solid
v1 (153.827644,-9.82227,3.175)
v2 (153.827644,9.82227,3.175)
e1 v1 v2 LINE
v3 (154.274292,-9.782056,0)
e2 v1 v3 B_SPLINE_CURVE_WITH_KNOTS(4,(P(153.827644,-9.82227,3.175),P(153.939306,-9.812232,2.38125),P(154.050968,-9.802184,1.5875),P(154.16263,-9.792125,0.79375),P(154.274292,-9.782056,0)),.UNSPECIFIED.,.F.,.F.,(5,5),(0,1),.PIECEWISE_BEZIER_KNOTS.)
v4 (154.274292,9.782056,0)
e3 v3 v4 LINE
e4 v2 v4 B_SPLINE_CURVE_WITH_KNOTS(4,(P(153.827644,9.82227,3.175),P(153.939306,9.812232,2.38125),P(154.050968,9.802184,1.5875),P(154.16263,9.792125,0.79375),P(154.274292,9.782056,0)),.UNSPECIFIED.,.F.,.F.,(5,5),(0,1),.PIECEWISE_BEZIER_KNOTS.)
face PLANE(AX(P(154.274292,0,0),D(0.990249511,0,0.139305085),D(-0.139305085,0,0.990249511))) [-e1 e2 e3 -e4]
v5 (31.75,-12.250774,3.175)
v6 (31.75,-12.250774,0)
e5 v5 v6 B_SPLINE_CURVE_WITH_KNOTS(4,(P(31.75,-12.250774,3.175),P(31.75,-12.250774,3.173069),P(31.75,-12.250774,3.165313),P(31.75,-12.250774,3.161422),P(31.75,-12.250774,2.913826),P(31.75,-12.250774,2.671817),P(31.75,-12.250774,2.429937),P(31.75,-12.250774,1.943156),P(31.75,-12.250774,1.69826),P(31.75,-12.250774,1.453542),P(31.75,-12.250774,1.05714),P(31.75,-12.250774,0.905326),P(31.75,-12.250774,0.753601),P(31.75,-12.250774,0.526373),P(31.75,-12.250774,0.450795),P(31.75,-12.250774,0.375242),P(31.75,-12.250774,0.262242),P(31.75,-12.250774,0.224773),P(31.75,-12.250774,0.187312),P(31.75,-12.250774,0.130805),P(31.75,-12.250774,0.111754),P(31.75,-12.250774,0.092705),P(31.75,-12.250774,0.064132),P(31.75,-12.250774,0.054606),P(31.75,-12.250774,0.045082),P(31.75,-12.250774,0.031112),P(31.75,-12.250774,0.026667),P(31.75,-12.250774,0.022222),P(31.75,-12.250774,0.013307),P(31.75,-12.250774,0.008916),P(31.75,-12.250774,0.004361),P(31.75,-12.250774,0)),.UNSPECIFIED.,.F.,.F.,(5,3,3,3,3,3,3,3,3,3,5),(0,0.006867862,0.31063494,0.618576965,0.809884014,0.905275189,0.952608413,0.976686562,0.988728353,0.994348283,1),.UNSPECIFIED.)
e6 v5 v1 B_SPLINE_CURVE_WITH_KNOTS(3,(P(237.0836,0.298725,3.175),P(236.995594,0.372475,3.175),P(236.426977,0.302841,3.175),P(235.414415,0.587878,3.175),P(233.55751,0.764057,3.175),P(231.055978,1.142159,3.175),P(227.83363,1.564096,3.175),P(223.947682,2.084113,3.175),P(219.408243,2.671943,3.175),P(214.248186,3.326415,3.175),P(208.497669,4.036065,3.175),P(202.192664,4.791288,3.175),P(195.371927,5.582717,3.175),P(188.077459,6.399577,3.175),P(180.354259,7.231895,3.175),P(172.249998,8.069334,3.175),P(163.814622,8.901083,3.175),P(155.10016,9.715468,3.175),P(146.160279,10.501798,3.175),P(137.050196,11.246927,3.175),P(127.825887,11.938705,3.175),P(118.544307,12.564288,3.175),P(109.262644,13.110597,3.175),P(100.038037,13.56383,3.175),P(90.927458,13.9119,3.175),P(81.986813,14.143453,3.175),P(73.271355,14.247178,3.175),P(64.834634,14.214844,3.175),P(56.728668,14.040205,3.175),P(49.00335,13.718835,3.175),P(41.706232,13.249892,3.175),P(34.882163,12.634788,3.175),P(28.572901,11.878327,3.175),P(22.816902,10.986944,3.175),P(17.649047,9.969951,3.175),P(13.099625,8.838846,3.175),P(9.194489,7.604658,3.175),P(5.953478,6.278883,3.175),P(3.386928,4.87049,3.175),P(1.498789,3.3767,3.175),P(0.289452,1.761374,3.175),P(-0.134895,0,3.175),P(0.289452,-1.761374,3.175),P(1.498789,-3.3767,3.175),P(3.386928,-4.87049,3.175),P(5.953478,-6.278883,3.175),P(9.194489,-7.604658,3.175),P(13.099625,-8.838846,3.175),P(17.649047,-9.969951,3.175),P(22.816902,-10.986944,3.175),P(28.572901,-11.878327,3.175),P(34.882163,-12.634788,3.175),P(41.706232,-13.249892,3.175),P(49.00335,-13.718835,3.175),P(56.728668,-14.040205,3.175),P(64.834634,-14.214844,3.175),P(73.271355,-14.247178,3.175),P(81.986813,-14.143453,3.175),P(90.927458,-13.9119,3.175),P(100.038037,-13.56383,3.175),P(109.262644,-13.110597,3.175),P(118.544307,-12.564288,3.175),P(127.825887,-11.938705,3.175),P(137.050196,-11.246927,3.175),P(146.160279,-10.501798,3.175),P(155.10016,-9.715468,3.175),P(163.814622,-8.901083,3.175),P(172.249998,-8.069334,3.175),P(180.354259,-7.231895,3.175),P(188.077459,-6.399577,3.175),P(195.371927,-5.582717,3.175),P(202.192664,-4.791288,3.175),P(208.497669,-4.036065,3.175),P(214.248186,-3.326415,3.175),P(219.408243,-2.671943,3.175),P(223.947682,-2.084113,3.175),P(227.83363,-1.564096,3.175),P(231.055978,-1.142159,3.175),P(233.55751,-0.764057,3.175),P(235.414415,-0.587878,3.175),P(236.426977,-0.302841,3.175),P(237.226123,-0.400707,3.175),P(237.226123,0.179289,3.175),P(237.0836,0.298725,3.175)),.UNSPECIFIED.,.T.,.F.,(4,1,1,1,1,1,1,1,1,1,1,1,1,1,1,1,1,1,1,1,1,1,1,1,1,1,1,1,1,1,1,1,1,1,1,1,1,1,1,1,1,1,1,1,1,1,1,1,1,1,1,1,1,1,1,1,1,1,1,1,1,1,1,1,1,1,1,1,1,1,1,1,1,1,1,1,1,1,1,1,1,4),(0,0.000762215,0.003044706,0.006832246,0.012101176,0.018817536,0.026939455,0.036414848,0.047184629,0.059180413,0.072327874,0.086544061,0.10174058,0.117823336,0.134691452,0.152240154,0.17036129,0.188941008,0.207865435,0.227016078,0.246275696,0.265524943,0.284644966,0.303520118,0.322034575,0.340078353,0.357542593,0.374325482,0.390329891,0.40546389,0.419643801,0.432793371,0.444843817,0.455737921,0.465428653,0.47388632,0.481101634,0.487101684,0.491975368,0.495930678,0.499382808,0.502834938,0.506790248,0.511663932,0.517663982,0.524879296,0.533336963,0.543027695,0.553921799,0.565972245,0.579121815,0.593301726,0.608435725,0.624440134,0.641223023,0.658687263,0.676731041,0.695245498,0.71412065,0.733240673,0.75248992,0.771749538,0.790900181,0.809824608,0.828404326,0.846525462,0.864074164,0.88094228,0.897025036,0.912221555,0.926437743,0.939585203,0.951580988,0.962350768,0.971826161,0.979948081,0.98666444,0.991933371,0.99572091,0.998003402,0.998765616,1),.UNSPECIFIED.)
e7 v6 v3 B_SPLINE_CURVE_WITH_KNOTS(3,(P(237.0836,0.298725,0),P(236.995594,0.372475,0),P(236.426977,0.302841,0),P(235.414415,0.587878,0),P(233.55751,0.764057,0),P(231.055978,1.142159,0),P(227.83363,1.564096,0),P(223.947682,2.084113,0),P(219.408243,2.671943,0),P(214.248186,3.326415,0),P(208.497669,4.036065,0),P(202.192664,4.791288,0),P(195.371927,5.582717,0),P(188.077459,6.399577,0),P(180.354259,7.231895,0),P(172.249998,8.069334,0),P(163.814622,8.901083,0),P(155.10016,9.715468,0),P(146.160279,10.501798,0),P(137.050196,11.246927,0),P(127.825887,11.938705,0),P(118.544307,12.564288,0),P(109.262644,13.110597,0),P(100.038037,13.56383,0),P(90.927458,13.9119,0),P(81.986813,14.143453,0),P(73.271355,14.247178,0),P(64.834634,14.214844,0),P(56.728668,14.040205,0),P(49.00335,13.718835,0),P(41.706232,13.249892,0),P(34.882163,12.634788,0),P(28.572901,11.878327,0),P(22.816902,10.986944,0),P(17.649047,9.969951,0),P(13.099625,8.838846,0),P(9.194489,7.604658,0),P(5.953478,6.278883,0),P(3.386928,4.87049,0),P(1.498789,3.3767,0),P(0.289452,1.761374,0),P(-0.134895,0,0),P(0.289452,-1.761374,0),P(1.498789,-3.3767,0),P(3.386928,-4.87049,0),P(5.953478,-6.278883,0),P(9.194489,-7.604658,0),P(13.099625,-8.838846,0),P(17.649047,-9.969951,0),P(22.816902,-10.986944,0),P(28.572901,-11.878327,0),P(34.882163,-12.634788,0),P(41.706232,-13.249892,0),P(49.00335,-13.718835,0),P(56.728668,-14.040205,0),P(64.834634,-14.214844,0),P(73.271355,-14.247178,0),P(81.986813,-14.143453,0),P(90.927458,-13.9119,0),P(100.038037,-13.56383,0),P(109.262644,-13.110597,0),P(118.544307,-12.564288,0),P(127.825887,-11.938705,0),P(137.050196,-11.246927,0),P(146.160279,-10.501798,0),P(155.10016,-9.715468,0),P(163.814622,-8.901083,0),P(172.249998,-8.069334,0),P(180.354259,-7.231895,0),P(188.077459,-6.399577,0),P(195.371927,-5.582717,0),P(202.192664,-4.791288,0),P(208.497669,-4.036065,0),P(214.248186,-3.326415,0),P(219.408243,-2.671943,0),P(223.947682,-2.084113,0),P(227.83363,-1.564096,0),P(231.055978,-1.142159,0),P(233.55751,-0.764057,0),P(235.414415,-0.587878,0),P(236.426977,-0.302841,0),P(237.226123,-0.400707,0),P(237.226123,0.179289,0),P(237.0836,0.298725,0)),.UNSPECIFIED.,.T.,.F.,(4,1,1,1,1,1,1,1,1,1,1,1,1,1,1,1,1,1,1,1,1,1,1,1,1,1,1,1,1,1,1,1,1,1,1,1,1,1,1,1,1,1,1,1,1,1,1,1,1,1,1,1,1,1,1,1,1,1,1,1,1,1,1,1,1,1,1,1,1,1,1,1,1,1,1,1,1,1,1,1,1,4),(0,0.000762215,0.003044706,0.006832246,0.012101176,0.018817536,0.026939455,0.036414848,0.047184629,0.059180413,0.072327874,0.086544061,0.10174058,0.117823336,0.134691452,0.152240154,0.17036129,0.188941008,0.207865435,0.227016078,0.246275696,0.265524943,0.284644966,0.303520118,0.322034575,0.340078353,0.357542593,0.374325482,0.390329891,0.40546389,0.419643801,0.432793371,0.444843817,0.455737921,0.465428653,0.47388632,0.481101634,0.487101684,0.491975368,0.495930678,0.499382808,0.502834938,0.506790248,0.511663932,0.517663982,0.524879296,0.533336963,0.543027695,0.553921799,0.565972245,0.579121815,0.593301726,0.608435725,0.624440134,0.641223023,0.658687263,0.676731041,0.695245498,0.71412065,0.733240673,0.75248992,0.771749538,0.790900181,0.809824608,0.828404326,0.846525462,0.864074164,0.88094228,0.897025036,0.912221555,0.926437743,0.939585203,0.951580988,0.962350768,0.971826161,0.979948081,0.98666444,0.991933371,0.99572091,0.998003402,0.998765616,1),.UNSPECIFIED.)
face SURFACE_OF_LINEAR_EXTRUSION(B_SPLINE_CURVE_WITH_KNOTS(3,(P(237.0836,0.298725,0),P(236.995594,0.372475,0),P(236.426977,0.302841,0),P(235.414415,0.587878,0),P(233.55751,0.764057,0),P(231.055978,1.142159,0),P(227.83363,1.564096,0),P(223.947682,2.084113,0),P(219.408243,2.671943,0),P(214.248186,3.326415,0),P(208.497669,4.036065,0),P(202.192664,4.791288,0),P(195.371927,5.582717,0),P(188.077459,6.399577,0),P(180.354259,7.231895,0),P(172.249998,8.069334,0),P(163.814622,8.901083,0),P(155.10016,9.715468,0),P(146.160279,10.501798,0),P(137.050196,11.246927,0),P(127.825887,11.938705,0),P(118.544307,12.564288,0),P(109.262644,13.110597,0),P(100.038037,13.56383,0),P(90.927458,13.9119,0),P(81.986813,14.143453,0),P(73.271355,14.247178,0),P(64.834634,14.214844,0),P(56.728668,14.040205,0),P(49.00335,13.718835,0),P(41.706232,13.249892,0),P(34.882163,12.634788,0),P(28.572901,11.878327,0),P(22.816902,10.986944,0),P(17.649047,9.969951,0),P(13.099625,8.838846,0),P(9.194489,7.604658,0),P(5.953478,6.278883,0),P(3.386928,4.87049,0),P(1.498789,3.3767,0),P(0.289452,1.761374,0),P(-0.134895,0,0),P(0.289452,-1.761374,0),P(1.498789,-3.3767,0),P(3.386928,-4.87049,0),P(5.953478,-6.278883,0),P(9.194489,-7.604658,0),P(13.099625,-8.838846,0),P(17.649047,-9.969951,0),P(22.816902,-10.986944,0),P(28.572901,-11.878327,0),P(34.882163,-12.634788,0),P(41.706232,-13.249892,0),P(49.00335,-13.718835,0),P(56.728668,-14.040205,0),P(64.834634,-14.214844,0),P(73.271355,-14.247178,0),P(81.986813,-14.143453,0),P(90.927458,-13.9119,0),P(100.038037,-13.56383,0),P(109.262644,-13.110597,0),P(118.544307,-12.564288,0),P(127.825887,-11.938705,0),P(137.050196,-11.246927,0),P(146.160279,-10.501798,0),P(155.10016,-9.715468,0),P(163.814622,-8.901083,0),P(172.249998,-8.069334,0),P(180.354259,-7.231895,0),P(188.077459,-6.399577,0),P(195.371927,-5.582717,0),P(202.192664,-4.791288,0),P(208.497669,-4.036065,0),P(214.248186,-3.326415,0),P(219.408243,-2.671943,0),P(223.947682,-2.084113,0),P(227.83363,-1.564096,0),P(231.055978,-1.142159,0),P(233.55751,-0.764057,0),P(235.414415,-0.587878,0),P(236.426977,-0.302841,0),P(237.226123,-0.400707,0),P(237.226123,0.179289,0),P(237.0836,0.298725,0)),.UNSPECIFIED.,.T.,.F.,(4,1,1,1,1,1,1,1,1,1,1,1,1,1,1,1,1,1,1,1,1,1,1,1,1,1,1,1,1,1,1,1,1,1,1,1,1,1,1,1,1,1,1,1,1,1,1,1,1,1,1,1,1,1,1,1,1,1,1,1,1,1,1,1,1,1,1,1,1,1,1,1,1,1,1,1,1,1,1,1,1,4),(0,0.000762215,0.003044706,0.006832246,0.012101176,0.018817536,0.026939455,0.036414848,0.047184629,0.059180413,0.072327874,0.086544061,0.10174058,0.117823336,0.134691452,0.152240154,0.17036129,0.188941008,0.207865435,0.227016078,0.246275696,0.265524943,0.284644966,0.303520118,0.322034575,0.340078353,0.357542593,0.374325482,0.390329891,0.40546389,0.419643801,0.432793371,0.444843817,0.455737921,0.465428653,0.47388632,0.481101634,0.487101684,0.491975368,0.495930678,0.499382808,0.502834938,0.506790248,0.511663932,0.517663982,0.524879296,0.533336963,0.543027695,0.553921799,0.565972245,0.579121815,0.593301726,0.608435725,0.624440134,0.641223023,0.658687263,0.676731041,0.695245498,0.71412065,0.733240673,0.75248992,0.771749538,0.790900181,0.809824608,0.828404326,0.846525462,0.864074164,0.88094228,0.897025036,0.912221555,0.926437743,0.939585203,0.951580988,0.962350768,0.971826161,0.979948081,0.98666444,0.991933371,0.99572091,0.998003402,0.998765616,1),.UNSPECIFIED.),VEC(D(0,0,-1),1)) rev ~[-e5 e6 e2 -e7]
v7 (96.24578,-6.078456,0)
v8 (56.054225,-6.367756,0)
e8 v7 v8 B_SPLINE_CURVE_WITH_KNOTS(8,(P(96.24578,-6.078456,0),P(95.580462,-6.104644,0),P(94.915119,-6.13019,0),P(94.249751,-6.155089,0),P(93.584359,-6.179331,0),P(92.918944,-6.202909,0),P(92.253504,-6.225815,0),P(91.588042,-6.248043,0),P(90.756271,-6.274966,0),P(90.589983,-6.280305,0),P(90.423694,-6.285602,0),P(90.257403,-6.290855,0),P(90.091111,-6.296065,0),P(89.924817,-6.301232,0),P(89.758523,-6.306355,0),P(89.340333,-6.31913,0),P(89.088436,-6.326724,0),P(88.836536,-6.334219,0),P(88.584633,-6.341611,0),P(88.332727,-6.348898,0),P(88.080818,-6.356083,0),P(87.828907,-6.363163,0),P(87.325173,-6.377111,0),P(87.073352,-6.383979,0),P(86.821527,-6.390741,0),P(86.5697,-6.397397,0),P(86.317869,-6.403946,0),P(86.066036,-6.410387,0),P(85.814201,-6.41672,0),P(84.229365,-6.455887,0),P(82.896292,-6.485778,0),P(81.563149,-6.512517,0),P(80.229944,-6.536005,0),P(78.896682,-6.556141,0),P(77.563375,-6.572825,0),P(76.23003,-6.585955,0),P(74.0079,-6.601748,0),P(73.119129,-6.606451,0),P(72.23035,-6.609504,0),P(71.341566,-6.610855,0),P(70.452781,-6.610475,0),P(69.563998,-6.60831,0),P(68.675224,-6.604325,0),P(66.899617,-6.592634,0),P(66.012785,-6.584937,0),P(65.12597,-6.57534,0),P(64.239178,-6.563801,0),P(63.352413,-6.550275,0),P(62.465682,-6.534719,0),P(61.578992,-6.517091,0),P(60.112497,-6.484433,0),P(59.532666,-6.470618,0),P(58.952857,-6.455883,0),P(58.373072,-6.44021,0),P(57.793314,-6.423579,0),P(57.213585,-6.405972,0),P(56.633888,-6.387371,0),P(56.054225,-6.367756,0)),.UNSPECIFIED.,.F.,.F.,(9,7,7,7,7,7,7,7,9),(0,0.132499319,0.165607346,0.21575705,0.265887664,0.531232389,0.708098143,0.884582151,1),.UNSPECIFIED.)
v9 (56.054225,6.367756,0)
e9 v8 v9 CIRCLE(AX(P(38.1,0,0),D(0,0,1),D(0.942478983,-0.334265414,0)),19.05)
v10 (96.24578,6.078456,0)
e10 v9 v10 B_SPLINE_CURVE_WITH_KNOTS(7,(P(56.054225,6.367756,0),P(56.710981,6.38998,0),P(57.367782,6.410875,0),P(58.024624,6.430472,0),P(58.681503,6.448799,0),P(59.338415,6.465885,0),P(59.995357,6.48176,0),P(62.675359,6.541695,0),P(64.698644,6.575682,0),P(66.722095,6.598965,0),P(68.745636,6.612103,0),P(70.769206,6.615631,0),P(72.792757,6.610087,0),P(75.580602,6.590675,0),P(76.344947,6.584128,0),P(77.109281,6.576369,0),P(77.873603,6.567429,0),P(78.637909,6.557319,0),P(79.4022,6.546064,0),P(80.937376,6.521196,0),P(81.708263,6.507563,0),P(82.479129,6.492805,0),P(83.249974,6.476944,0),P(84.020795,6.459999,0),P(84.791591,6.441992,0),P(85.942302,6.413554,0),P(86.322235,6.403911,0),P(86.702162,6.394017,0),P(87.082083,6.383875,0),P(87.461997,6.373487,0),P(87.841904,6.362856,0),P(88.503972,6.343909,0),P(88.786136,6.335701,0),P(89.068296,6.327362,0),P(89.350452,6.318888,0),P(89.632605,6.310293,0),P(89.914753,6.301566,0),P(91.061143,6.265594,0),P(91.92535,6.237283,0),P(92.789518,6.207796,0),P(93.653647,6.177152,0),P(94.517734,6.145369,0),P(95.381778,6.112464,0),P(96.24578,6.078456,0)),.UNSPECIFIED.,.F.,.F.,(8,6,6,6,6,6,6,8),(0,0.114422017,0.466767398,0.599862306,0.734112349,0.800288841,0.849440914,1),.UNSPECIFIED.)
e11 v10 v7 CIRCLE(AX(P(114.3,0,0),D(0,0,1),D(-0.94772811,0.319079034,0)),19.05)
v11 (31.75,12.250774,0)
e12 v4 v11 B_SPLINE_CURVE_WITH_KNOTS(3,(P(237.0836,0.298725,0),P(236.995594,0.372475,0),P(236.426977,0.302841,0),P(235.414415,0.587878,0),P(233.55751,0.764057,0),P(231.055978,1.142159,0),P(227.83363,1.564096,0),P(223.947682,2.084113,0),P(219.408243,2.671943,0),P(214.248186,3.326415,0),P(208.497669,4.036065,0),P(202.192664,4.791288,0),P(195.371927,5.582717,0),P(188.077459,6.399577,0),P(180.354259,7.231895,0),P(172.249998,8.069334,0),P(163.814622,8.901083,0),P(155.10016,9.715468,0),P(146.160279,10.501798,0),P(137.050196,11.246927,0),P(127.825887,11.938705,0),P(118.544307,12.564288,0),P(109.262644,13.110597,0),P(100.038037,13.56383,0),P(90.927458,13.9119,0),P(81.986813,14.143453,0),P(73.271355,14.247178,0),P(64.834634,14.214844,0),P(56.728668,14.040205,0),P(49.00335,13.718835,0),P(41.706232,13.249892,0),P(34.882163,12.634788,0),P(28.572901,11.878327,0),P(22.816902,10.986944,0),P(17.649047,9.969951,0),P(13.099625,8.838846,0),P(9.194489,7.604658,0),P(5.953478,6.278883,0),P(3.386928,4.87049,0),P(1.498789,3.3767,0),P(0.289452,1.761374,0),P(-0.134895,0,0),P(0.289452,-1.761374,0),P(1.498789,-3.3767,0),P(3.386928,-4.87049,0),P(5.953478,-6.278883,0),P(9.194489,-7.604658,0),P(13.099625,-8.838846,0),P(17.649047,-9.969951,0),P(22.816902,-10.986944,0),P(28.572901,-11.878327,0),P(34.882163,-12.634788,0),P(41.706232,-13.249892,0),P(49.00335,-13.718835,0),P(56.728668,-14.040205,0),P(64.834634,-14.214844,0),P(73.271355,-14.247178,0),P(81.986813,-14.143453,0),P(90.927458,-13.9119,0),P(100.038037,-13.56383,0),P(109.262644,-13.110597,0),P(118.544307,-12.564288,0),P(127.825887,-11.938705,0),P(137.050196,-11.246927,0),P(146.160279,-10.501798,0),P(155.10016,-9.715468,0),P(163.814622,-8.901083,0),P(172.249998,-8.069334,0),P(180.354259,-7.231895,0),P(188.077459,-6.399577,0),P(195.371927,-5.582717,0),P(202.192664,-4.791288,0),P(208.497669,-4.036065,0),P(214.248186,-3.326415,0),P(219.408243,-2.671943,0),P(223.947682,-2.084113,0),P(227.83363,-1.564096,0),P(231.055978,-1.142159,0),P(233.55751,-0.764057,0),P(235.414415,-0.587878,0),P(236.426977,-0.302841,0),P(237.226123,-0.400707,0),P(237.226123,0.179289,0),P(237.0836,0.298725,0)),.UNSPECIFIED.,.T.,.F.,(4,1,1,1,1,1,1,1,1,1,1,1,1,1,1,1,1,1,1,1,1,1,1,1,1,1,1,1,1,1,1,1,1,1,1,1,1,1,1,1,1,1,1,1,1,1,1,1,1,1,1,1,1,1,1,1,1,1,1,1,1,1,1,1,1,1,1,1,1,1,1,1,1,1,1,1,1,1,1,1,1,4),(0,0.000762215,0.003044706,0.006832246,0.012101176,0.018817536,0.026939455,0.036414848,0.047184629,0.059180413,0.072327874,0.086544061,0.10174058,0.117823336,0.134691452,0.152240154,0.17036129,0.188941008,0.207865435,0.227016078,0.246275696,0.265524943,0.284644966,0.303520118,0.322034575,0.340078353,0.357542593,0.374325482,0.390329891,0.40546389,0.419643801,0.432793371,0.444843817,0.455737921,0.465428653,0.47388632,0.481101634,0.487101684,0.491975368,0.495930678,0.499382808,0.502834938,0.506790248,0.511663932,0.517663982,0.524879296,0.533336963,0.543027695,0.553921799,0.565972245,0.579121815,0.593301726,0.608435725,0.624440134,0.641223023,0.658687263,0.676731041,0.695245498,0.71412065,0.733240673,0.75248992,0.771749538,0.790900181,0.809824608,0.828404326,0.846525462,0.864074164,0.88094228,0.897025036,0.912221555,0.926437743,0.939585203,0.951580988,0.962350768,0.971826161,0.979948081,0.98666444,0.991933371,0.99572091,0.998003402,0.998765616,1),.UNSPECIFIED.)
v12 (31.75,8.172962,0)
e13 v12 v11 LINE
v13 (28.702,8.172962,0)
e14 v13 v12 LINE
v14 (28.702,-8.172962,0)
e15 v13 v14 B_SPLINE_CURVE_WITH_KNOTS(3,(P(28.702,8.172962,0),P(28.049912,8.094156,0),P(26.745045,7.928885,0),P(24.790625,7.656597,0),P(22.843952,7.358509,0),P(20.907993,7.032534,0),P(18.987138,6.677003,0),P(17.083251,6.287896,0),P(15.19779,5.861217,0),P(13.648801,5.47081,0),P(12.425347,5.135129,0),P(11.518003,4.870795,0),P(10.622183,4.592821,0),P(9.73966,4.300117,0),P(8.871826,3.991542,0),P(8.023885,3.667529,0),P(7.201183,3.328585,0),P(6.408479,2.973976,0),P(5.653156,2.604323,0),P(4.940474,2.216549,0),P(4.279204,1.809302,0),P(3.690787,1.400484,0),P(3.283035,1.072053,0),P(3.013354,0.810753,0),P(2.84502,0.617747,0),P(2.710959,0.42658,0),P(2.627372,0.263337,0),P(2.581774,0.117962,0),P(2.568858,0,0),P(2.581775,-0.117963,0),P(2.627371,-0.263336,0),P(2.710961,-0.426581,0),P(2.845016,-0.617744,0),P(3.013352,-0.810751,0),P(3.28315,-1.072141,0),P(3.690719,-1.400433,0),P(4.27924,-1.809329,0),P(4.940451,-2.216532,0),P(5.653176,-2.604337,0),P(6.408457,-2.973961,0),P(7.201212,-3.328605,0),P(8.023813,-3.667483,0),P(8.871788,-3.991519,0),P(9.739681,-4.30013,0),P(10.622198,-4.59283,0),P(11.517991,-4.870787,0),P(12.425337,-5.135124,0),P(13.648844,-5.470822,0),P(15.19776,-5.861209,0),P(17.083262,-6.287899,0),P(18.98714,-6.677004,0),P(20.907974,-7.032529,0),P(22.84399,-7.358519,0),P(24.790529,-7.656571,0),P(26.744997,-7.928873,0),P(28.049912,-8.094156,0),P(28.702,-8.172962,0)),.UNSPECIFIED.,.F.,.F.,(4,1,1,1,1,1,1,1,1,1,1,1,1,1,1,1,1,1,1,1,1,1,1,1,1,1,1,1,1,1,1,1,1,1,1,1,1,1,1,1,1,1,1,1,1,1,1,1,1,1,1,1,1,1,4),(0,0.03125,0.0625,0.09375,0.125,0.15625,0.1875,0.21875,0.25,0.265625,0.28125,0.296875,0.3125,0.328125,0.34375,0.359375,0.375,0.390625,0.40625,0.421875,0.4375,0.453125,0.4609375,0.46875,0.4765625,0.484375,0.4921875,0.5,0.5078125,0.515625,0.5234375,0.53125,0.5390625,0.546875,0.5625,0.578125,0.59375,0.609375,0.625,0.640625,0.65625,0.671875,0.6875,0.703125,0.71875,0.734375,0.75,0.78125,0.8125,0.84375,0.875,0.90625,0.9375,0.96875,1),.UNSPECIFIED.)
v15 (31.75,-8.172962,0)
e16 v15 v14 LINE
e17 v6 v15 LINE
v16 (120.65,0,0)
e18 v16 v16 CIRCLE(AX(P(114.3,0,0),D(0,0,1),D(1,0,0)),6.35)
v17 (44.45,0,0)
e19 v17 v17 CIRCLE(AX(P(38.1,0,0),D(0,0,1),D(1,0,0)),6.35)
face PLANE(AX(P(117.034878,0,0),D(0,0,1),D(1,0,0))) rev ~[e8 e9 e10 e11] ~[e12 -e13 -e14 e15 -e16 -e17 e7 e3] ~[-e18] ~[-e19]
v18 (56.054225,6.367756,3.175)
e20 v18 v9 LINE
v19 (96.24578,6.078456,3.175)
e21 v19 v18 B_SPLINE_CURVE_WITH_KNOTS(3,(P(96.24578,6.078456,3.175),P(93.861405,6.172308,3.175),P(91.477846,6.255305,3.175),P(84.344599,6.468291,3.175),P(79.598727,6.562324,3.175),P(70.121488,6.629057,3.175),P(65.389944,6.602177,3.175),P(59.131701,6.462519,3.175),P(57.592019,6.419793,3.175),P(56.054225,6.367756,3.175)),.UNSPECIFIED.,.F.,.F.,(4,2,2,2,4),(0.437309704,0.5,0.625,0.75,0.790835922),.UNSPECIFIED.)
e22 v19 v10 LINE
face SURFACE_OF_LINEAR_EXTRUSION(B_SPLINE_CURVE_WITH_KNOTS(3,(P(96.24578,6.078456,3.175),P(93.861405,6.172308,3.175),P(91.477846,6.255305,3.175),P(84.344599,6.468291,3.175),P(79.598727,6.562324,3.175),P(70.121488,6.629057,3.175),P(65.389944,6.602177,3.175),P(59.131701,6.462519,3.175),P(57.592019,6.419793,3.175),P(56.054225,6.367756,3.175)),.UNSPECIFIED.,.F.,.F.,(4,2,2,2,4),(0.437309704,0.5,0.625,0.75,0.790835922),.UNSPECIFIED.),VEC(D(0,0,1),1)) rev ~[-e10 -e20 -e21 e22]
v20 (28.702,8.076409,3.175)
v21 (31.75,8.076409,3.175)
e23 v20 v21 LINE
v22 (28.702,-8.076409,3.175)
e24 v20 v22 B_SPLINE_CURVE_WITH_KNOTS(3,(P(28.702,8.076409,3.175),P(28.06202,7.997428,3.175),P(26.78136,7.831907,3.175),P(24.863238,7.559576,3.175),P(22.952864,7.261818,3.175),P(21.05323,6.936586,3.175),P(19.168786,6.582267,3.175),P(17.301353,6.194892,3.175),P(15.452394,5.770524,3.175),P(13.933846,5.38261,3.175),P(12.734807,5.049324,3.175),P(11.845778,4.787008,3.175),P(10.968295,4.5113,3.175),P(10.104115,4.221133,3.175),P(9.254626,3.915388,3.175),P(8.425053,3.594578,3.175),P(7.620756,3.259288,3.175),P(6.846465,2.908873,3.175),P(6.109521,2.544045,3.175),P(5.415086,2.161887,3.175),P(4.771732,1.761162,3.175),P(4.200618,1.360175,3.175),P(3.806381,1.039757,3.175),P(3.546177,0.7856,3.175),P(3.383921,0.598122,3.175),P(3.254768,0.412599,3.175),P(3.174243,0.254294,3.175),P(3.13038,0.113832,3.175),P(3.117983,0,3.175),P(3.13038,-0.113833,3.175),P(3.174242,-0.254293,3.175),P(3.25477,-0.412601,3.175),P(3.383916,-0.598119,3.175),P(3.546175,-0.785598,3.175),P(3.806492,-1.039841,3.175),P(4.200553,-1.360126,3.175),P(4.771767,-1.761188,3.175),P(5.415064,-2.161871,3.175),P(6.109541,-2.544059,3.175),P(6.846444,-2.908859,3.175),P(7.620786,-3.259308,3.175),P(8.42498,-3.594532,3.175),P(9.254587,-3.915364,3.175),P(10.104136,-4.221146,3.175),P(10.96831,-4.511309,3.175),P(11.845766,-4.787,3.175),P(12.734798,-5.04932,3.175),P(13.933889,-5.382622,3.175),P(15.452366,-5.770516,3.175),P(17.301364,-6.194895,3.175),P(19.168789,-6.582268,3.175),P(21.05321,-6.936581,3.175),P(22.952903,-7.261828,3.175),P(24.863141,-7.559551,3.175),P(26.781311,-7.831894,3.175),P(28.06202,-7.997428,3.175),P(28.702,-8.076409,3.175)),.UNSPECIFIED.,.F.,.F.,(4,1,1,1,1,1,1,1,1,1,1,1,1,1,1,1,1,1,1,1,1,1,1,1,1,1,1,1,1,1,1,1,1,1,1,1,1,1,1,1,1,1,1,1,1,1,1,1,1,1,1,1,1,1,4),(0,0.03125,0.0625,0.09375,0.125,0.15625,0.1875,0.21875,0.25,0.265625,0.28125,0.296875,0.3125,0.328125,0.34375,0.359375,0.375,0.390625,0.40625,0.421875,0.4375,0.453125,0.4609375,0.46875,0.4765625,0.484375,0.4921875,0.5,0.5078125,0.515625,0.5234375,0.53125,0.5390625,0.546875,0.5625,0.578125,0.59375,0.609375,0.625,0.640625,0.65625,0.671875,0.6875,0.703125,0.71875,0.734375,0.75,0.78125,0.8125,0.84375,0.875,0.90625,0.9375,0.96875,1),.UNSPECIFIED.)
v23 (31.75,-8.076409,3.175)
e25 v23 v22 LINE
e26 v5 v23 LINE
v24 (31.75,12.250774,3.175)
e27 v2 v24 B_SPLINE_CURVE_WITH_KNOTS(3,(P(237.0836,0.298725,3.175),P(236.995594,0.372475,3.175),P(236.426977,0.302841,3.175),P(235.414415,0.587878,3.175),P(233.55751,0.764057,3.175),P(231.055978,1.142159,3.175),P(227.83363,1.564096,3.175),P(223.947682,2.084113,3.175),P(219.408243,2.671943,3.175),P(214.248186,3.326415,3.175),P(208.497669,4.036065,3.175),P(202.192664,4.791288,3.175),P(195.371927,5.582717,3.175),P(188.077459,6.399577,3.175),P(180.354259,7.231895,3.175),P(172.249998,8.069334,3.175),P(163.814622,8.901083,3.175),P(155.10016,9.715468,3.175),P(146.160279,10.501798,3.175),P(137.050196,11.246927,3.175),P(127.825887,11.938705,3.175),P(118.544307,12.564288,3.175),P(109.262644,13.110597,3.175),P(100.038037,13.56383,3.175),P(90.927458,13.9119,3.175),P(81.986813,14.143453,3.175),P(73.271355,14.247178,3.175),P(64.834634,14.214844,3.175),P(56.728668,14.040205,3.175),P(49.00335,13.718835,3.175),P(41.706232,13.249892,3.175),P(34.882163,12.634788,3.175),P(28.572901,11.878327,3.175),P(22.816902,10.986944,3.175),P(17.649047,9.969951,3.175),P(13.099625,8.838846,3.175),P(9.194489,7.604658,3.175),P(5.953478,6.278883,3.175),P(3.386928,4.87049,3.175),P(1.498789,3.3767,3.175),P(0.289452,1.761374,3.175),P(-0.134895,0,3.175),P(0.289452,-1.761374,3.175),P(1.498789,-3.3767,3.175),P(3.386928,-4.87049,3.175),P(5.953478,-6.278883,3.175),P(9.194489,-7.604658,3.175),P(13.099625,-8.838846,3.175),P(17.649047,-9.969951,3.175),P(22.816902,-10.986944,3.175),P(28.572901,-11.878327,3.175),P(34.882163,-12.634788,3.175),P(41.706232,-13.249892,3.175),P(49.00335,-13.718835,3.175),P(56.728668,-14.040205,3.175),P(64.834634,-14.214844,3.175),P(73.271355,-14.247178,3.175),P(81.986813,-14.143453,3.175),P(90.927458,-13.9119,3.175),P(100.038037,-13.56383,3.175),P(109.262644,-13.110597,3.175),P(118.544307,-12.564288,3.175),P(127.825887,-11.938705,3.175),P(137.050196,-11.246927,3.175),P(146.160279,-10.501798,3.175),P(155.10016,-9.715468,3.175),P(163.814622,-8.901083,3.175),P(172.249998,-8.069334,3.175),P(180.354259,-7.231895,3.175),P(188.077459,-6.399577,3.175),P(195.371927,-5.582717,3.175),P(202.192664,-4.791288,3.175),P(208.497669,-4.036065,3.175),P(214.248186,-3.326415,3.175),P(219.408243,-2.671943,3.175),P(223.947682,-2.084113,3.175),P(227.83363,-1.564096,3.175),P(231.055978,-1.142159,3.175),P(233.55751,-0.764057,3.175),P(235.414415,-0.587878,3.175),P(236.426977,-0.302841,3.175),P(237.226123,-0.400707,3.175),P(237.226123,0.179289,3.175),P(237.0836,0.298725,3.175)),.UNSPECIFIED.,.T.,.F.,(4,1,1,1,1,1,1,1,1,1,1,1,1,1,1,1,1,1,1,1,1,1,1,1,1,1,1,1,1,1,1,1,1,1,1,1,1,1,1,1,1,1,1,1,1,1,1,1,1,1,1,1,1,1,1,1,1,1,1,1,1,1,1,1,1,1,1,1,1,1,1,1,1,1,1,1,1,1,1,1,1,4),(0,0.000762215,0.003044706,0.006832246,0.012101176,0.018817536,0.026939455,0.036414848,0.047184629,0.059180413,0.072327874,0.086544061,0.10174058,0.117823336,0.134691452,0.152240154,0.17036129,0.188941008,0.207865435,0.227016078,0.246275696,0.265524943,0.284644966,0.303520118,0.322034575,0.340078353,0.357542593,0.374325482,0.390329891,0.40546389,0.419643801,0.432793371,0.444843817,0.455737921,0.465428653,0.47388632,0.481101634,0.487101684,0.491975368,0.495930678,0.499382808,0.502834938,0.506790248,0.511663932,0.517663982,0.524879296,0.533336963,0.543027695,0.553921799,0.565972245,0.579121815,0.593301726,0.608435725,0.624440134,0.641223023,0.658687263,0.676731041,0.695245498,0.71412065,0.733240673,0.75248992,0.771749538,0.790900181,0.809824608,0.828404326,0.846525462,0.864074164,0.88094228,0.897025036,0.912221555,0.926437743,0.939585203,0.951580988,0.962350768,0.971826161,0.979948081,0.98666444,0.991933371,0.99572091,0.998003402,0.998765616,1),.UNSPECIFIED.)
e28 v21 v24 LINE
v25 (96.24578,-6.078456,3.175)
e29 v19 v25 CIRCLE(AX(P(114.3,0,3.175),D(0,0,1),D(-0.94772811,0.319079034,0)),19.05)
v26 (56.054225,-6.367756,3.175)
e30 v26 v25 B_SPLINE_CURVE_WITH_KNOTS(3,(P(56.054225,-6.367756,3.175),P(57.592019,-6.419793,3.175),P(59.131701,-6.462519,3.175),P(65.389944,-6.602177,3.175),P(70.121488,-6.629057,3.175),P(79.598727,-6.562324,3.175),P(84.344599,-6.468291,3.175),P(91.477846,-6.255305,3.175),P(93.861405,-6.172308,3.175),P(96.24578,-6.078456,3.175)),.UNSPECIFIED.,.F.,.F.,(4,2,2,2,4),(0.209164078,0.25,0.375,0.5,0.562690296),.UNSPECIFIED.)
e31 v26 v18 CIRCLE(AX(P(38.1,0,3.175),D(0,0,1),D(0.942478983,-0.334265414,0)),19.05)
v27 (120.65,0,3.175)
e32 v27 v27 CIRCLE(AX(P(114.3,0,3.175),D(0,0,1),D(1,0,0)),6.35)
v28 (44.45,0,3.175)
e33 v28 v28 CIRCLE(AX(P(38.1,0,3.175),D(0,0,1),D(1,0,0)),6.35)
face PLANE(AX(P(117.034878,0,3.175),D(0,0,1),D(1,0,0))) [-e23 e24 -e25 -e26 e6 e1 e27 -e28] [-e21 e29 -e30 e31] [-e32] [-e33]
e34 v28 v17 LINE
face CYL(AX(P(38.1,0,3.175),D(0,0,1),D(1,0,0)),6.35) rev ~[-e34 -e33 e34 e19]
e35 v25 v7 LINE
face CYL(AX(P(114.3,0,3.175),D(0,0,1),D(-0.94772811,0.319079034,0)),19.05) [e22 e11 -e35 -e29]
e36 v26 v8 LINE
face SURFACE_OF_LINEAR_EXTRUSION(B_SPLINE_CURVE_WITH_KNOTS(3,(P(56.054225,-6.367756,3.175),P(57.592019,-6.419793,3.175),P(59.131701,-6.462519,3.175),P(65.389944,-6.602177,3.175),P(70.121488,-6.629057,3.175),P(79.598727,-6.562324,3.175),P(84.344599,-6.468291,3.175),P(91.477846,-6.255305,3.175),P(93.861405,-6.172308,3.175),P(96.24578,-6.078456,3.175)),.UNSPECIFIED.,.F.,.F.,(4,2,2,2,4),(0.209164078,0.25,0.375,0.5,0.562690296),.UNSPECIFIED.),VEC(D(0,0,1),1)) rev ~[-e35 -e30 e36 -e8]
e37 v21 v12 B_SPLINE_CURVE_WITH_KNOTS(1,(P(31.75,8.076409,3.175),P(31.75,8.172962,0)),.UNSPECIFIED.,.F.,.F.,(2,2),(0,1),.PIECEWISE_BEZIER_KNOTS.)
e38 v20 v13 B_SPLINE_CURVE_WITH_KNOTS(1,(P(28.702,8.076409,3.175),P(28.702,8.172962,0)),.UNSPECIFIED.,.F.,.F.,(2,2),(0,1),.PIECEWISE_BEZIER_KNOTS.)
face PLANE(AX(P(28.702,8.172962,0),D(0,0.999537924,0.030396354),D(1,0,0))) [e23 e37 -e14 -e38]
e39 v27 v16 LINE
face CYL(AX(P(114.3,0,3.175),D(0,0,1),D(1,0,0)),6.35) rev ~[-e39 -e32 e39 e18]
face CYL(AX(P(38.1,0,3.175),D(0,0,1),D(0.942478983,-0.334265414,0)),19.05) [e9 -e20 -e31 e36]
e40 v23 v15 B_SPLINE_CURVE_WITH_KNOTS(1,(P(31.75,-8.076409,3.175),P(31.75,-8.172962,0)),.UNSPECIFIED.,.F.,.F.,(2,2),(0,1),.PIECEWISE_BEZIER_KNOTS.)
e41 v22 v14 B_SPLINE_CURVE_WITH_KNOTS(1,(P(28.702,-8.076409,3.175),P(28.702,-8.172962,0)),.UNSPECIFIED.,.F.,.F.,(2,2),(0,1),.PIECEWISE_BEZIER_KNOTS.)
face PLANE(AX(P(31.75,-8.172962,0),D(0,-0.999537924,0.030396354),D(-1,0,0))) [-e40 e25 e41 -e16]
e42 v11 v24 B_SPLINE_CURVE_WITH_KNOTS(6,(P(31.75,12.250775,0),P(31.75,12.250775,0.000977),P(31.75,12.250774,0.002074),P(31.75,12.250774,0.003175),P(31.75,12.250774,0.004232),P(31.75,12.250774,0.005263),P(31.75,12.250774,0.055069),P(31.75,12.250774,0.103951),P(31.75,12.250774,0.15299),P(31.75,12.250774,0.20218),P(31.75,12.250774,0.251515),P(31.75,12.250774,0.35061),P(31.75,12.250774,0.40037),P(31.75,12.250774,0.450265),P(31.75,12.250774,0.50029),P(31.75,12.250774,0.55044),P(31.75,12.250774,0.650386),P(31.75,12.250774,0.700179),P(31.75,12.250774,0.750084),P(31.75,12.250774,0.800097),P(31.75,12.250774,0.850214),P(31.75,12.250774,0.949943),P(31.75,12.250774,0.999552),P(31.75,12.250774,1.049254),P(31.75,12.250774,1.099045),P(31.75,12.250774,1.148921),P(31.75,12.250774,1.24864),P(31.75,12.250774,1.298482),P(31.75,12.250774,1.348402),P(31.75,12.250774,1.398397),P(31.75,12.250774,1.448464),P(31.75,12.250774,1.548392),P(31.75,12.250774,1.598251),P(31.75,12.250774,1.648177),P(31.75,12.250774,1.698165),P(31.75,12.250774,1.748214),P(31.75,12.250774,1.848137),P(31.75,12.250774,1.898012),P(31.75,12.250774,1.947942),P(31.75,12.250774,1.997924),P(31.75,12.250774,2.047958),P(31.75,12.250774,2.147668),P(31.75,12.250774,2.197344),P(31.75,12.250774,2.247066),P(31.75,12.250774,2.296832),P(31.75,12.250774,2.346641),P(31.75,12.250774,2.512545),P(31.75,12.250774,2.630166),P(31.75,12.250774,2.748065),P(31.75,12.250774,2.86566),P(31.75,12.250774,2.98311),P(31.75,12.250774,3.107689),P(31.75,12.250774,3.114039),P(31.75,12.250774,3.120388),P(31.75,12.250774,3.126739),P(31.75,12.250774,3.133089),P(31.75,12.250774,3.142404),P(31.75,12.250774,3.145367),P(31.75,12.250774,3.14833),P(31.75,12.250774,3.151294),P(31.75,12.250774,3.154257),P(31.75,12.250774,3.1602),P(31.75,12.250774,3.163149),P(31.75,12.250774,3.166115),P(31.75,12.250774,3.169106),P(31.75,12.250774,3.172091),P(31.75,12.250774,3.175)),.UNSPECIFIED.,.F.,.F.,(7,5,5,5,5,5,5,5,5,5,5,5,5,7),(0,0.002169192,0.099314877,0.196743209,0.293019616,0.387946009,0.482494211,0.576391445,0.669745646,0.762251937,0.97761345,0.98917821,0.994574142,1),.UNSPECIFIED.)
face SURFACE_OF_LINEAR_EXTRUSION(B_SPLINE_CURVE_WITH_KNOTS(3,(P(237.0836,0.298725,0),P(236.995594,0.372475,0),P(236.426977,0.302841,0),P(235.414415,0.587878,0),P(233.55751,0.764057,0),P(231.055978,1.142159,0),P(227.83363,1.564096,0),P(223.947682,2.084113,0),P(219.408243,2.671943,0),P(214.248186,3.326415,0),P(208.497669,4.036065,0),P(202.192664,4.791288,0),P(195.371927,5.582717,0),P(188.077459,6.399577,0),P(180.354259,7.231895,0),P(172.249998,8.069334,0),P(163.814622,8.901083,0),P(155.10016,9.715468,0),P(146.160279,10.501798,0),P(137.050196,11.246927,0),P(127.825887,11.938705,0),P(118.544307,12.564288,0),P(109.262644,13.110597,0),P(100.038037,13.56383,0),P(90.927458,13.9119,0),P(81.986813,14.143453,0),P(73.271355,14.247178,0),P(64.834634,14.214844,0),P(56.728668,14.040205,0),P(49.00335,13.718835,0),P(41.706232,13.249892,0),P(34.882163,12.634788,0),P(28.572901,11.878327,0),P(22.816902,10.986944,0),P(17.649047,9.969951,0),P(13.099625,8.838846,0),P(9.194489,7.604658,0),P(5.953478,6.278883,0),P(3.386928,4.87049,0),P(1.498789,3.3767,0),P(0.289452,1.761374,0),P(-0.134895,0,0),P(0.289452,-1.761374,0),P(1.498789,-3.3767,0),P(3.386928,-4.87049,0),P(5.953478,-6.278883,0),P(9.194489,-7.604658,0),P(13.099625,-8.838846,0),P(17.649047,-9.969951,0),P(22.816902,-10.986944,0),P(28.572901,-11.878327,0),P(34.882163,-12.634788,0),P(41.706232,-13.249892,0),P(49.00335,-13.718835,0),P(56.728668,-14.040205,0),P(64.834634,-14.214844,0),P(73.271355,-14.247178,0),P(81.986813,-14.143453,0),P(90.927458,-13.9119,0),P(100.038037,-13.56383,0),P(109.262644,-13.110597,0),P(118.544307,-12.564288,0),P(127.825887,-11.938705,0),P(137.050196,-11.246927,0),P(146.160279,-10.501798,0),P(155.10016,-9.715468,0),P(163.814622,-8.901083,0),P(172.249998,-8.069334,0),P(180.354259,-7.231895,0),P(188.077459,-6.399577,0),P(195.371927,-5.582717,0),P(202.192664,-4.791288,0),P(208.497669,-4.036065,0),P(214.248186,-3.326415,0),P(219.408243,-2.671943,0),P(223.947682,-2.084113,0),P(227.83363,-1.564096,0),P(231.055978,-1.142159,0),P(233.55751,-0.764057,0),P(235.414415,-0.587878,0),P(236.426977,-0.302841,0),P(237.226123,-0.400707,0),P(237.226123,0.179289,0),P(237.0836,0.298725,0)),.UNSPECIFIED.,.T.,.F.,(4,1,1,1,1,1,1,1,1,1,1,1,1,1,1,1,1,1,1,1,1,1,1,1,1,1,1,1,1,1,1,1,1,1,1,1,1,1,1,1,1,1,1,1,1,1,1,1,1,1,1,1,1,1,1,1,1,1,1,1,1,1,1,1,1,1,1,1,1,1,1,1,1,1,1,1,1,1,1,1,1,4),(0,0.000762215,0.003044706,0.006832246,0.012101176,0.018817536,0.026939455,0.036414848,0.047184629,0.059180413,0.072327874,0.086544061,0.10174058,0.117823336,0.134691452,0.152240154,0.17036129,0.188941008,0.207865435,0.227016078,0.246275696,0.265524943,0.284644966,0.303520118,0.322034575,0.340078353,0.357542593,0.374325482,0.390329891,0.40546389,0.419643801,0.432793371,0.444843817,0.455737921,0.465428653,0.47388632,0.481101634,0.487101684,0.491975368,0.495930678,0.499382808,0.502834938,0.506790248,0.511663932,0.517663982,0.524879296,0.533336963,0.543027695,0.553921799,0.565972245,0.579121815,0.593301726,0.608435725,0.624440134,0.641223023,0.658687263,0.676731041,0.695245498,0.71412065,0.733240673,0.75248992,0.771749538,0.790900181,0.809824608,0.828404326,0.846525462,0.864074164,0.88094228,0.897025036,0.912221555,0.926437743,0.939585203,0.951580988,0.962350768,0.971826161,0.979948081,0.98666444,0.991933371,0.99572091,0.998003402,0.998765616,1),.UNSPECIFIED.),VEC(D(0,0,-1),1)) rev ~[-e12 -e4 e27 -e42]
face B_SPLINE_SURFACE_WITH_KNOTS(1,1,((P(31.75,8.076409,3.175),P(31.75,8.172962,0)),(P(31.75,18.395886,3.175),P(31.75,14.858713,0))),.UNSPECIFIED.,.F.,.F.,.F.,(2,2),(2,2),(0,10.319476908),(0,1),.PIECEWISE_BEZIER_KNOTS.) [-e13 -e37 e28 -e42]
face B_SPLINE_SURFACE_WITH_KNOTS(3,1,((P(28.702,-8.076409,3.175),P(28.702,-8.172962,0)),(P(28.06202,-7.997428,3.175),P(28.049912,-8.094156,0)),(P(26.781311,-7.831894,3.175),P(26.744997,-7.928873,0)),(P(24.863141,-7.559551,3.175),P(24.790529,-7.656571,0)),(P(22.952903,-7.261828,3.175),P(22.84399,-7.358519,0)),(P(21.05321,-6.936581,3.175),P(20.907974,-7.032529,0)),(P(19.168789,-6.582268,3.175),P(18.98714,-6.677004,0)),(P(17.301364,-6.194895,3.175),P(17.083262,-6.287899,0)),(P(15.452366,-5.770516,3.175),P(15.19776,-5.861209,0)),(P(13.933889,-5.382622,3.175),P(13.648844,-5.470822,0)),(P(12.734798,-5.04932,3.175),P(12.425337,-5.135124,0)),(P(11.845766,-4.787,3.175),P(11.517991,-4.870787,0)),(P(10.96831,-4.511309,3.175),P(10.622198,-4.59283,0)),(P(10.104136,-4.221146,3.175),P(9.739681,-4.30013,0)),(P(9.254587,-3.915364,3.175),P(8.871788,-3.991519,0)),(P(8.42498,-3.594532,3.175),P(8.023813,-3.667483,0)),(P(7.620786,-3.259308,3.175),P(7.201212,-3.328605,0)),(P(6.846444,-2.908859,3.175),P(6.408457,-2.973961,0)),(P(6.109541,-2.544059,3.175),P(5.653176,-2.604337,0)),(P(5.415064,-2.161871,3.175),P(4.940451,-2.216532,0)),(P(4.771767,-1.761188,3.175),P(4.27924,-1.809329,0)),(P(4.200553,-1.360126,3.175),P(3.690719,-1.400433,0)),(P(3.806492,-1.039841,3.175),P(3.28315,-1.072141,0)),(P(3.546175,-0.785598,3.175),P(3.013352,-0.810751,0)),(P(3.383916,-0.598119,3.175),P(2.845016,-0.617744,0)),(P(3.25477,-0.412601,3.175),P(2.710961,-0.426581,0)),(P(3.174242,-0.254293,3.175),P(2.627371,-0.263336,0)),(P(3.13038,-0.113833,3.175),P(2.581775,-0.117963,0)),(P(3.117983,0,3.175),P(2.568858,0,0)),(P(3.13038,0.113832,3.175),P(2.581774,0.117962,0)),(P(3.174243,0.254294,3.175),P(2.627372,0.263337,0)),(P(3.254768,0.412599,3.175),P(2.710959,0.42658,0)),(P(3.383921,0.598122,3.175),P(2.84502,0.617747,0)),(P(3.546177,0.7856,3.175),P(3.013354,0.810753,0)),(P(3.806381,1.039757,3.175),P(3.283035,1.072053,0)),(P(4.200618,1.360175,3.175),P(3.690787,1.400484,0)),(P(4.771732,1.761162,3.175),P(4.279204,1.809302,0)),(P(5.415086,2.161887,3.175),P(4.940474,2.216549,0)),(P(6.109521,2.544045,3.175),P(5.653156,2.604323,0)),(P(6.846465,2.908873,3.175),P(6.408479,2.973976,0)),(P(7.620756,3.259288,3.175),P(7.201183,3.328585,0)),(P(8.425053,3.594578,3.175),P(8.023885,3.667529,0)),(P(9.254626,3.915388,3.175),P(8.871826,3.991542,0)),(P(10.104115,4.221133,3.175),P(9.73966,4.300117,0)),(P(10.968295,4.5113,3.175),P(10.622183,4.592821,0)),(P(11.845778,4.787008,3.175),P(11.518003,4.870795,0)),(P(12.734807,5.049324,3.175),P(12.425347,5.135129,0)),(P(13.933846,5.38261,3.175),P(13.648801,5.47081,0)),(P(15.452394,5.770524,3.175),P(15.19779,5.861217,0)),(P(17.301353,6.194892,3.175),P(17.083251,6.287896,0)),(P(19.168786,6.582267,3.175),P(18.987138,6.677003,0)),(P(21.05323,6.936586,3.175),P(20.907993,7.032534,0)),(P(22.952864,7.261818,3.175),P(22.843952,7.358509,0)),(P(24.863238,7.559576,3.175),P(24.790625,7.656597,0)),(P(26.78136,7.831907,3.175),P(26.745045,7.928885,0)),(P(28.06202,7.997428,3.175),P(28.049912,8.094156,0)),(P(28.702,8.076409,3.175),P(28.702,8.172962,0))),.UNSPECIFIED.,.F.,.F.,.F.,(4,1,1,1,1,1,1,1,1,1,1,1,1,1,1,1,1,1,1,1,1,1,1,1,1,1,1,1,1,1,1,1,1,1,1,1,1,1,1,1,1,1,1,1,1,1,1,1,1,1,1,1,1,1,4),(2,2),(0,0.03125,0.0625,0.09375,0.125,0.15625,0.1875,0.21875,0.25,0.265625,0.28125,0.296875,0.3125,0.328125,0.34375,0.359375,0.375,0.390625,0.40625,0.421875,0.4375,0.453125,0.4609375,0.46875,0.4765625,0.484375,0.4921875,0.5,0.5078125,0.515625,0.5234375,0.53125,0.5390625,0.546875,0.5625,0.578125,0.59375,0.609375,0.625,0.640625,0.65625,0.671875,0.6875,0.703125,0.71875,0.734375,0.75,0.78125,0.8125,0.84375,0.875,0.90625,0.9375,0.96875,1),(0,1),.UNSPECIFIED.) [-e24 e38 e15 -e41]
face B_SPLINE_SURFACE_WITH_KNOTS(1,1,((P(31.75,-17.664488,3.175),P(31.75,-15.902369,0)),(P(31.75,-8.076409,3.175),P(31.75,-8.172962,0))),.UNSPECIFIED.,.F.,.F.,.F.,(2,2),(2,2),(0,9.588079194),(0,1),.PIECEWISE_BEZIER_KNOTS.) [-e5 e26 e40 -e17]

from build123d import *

# Parameters (mm, degrees)
BOSS_EXTRUDE1_DEPTH     = 3.175
SKETCH2_R               = 6.35
CUT_EXTRUDE1_DEPTH      = 3.175
CUT_EXTRUDE2_DEPTH      = 15.229125104
CUT_EXTRUDE2_DEPTH_BACK = 15.229125104
CUT_EXTRUDE3_DEPTH      = 7.62


with BuildPart() as part:
    # Sketch1 → Boss-Extrude1 (new body)
    with BuildSketch(Plane.XY):
        with BuildLine():
            add(Edge.make_bspline(
                [(237.0836, 0.298725336), (236.995594177, 0.372475408), (236.426976915, 0.302841036), (235.414414738, 0.587878253), (233.557510406, 0.764057302), (231.055978259, 1.142159154), (227.833630131, 1.564095564), (223.947681725, 2.084112793), (219.408243114, 2.671942868), (214.248186401, 3.326415443), (208.497669056, 4.03606524), (202.192664292, 4.791288168), (195.371926847, 5.582717259), (188.077459081, 6.399577403), (180.354259346, 7.2318954), (172.249998357, 8.069333754), (163.814621862, 8.901083193), (155.10015976, 9.715468455), (146.160279484, 10.50179834), (137.050196099, 11.246926821), (127.825887085, 11.938704549), (118.544307176, 12.564288117), (109.262643889, 13.110597113), (100.038037253, 13.563829729), (90.927458146, 13.911900095), (81.986813488, 14.143452851), (73.27135464, 14.247178081), (64.83463449, 14.214844108), (56.728667619, 14.040205364), (49.003349951, 13.718834947), (41.706232299, 13.249892202), (34.882163012, 12.634788148), (28.572900537, 11.878326773), (22.816901851, 10.986944444), (17.649046914, 9.969950888), (13.099625234, 8.838845522), (9.194488598, 7.604658034), (5.953477664, 6.278883166), (3.386928106, 4.870490409), (1.49878923, 3.376700029), (0.289451642, 1.761373844), (-0.134894757, 0), (0.289451642, -1.761373844), (1.49878923, -3.376700029), (3.386928106, -4.870490409), (5.953477664, -6.278883166), (9.194488598, -7.604658034), (13.099625234, -8.838845522), (17.649046914, -9.969950888), (22.816901851, -10.986944444), (28.572900537, -11.878326773), (34.882163012, -12.634788148), (41.706232299, -13.249892202), (49.003349951, -13.718834947), (56.728667619, -14.040205364), (64.83463449, -14.214844108), (73.27135464, -14.247178081), (81.986813488, -14.143452851), (90.927458146, -13.911900095), (100.038037253, -13.563829729), (109.262643889, -13.110597113), (118.544307176, -12.564288117), (127.825887085, -11.938704549), (137.050196099, -11.246926821), (146.160279484, -10.50179834), (155.10015976, -9.715468455), (163.814621862, -8.901083193), (172.249998357, -8.069333754), (180.354259346, -7.2318954), (188.077459081, -6.399577403), (195.371926847, -5.582717259), (202.192664292, -4.791288168), (208.497669056, -4.03606524), (214.248186401, -3.326415443), (219.408243114, -2.671942868), (223.947681725, -2.084112793), (227.833630131, -1.564095564), (231.055978259, -1.142159154), (233.557510406, -0.764057302), (235.414414738, -0.587878253), (236.426976915, -0.302841036), (237.226122795, -0.400706552), (237.226122795, 0.179289302), (237.0836, 0.298725336)],
                knots=[0, 0, 0, 0, 0.000762215, 0.003044706, 0.006832246, 0.012101176, 0.018817536, 0.026939455, 0.036414848, 0.047184629, 0.059180413, 0.072327874, 0.086544061, 0.10174058, 0.117823336, 0.134691452, 0.152240154, 0.17036129, 0.188941008, 0.207865435, 0.227016078, 0.246275696, 0.265524943, 0.284644966, 0.303520118, 0.322034575, 0.340078353, 0.357542593, 0.374325482, 0.390329891, 0.40546389, 0.419643801, 0.432793371, 0.444843817, 0.455737921, 0.465428653, 0.47388632, 0.481101634, 0.487101684, 0.491975368, 0.495930678, 0.499382808, 0.502834938, 0.506790248, 0.511663932, 0.517663982, 0.524879296, 0.533336963, 0.543027695, 0.553921799, 0.565972245, 0.579121815, 0.593301726, 0.608435725, 0.624440134, 0.641223023, 0.658687263, 0.676731041, 0.695245498, 0.71412065, 0.733240673, 0.75248992, 0.771749538, 0.790900181, 0.809824608, 0.828404326, 0.846525462, 0.864074164, 0.88094228, 0.897025036, 0.912221555, 0.926437743, 0.939585203, 0.951580988, 0.962350768, 0.971826161, 0.979948081, 0.98666444, 0.991933371, 0.99572091, 0.998003402, 0.998765616, 1, 1, 1, 1], degree=3))
        make_face()
    extrude(amount=BOSS_EXTRUDE1_DEPTH)

    # Sketch2 → Cut-Extrude1 (cut)
    with BuildSketch(Plane.XY.offset(3.175)):
        with Locations((38.1, 0)):
            Circle(SKETCH2_R)
        with Locations((114.3, 0)):
            Circle(SKETCH2_R)
    extrude(amount=-CUT_EXTRUDE1_DEPTH, mode=Mode.SUBTRACT)

    # Sketch3 → Cut-Extrude2 (cut, two sides)
    with BuildSketch(Plane(origin=(0, 0, 0), x_dir=(1, 0, 0), z_dir=(0, 1, 0))) as cut_extrude2_sk:
        Polygon((154.274292451, 0), (153.827643764, -3.175), (237.190492096, -3.175), (237.190492096, 0), align=None)
    extrude(amount=CUT_EXTRUDE2_DEPTH, mode=Mode.SUBTRACT)
    extrude(cut_extrude2_sk.sketch, amount=-CUT_EXTRUDE2_DEPTH_BACK, mode=Mode.SUBTRACT)

    # Sketch6 → Cut-Loft1 section 0
    with BuildSketch(Plane.XY.offset(3.175)):
        with BuildLine():
            Line((31.75, 8.076408981), (31.75, 11.683250037))
            Line((31.75, 11.683250037), (31.75, 18.395885889))
            Line((31.75, 18.395885889), (-8.998418256, 14.186873402))
            Line((-8.998418256, 14.186873402), (-8.032236021, -19.061162304))
            Line((-8.032236021, -19.061162304), (31.75, -17.664488176))
            Line((31.75, -17.664488176), (31.75, -11.683250037))
            Line((31.75, -11.683250037), (31.75, -8.076408982))
            Line((31.75, -8.076408982), (28.702, -8.076408982))
            add(Edge.make_bspline(
                [(28.702, 8.076408981), (28.062019842, 7.997428017), (26.781360323, 7.83190678), (24.863238423, 7.559576486), (22.952864289, 7.261817641), (21.053229662, 6.936585888), (19.16878625, 6.582266966), (17.301352642, 6.194891801), (15.452394184, 5.770523851), (13.933846318, 5.382610192), (12.734807014, 5.049324169), (11.845778194, 4.787008043), (10.968295358, 4.511299981), (10.104114856, 4.221132537), (9.254625692, 3.915388001), (8.425053114, 3.594578064), (7.620756036, 3.259288164), (6.846465326, 2.908873288), (6.109521351, 2.54404498), (5.415085904, 2.161886878), (4.771732283, 1.761162286), (4.200618093, 1.360175223), (3.806381168, 1.039757171), (3.546177048, 0.785599694), (3.383920596, 0.598121849), (3.254767765, 0.412598836), (3.174243399, 0.254294099), (3.130379566, 0.1138318), (3.117983008, 3.16e-07), (3.130380113, -0.113832551), (3.174242347, -0.254293127), (3.254769825, -0.41260053), (3.383916396, -0.598118576), (3.546175023, -0.785598191), (3.806491944, -1.039841143), (4.20055318, -1.360126113), (4.77176705, -1.761188423), (5.41506381, -2.161870561), (6.109540545, -2.544058683), (6.846443726, -2.908858743), (7.620785984, -3.259307593), (8.424980153, -3.594531648), (9.25458748, -3.915363972), (10.104136109, -4.221145998), (10.968310445, -4.511309444), (11.845765894, -4.787000103), (12.734797781, -5.049319704), (13.933888924, -5.382621972), (15.4523656, -5.770516248), (17.301363518, -6.194894525), (19.168788744, -6.582267832), (21.053210036, -6.936580559), (22.952903047, -7.261827785), (24.863140664, -7.559551063), (26.781311277, -7.831894211), (28.062019842, -7.997428017), (28.702, -8.076408982)],
                knots=[0, 0, 0, 0, 0.03125, 0.0625, 0.09375, 0.125, 0.15625, 0.1875, 0.21875, 0.25, 0.265625, 0.28125, 0.296875, 0.3125, 0.328125, 0.34375, 0.359375, 0.375, 0.390625, 0.40625, 0.421875, 0.4375, 0.453125, 0.4609375, 0.46875, 0.4765625, 0.484375, 0.4921875, 0.5, 0.5078125, 0.515625, 0.5234375, 0.53125, 0.5390625, 0.546875, 0.5625, 0.578125, 0.59375, 0.609375, 0.625, 0.640625, 0.65625, 0.671875, 0.6875, 0.703125, 0.71875, 0.734375, 0.75, 0.78125, 0.8125, 0.84375, 0.875, 0.90625, 0.9375, 0.96875, 1, 1, 1, 1], degree=3))
            Line((28.702, 8.076408981), (31.75, 8.076408981))
        make_face()
    # Sketch5 → Cut-Loft1 section 1
    with BuildSketch(Plane(origin=(0, 0, 0), x_dir=(-1, 0, 0), z_dir=(0, 0, -1))):
        with BuildLine():
            Line((-31.75, -11.773629767), (-31.75, -8.172962021))
            Line((-31.75, -8.172962021), (-28.702, -8.172962021))
            add(Edge.make_bspline(
                [(-28.702, 8.17296202), (-28.04991232, 8.094156153), (-26.745045473, 7.928885379), (-24.790625464, 7.656596528), (-22.843952156, 7.358509388), (-20.907993005, 7.032534185), (-18.987137813, 6.677003012), (-17.083250909, 6.287895965), (-15.197789513, 5.861217163), (-13.648800631, 5.470809812), (-12.425346674, 5.135128731), (-11.518003122, 4.870795331), (-10.622183079, 4.592820857), (-9.739660488, 4.300116815), (-8.871825969, 3.991542258), (-8.023884998, 3.667528855), (-7.201182529, 3.328585226), (-6.408478992, 2.973975846), (-5.653156453, 2.604323149), (-4.940474095, 2.216549268), (-4.279203879, 1.809302193), (-3.690786556, 1.400484278), (-3.283034517, 1.072052932), (-3.013354261, 0.810752852), (-2.845020129, 0.61774711), (-2.710958875, 0.426579544), (-2.627372313, 0.263337315), (-2.58177414, 0.117962243), (-2.568858472, 3.28e-07), (-2.581774708, -0.117963026), (-2.627371214, -0.263336298), (-2.710961028, -0.426581314), (-2.845015751, -0.617743699), (-3.01335214, -0.810751279), (-3.283150094, -1.072140545), (-3.690718878, -1.400433069), (-4.27924005, -1.809329397), (-4.940451244, -2.216532371), (-5.653176086, -2.604337198), (-6.408457303, -2.973961207), (-7.201212263, -3.32860454), (-8.023812968, -3.667483017), (-8.871788374, -3.991518624), (-9.739681391, -4.300130053), (-10.622197985, -4.592830206), (-11.517990976, -4.870787488), (-12.425337452, -5.135124325), (-13.648844495, -5.470821714), (-15.197759965, -5.861209465), (-17.083262354, -6.287898751), (-18.987139884, -6.677003815), (-20.907973868, -7.032528958), (-22.843990245, -7.358519372), (-24.790529171, -7.656571477), (-26.744997097, -7.928872987), (-28.04991232, -8.094156153), (-28.702, -8.172962021)],
                knots=[0, 0, 0, 0, 0.03125, 0.0625, 0.09375, 0.125, 0.15625, 0.1875, 0.21875, 0.25, 0.265625, 0.28125, 0.296875, 0.3125, 0.328125, 0.34375, 0.359375, 0.375, 0.390625, 0.40625, 0.421875, 0.4375, 0.453125, 0.4609375, 0.46875, 0.4765625, 0.484375, 0.4921875, 0.5, 0.5078125, 0.515625, 0.5234375, 0.53125, 0.5390625, 0.546875, 0.5625, 0.578125, 0.59375, 0.609375, 0.625, 0.640625, 0.65625, 0.671875, 0.6875, 0.703125, 0.71875, 0.734375, 0.75, 0.78125, 0.8125, 0.84375, 0.875, 0.90625, 0.9375, 0.96875, 1, 1, 1, 1], degree=3))
            Line((-28.702, 8.17296202), (-31.75, 8.17296202))
            Line((-31.75, 8.17296202), (-31.75, 11.773629767))
            Line((-31.75, 11.773629767), (-31.75, 14.858712547))
            Line((-31.75, 14.858712547), (1.815959964, 11.773629767))
            Line((1.815959964, 11.773629767), (0.454850161, -12.744594259))
            Line((0.454850161, -12.744594259), (-31.75, -15.902369002))
            Line((-31.75, -15.902369002), (-31.75, -11.773629767))
        make_face()
    loft(mode=Mode.SUBTRACT)

    # Sketch7 → Cut-Extrude3 (cut)
    with BuildSketch(Plane.XY.offset(3.175)):
        with BuildLine():
            ThreePointArc((56.054224621, -6.367756139), (57.15, 0), (56.054224621, 6.367756139))
            add(Edge.make_bspline(
                [(96.245779506, 6.07845559), (93.861405197, 6.172308422), (91.477846396, 6.255305153), (84.344598798, 6.468290826), (79.598726683, 6.562324228), (70.121487659, 6.629056545), (65.389943722, 6.602176751), (59.131701158, 6.462519155), (57.592019112, 6.419793098), (56.054224621, 6.367756139)],
                knots=[0.437309704, 0.437309704, 0.437309704, 0.437309704, 0.5, 0.5, 0.625, 0.625, 0.75, 0.75, 0.790835922, 0.790835922, 0.790835922, 0.790835922], degree=3))
            ThreePointArc((96.245779506, 6.07845559), (95.25, 0), (96.245779506, -6.07845559))
            add(Edge.make_bspline(
                [(56.054224621, -6.367756139), (57.592019112, -6.419793098), (59.131701158, -6.462519155), (65.389943722, -6.602176751), (70.121487659, -6.629056545), (79.598726683, -6.562324228), (84.344598798, -6.468290826), (91.477846396, -6.255305153), (93.861405197, -6.172308422), (96.245779506, -6.07845559)],
                knots=[0.209164078, 0.209164078, 0.209164078, 0.209164078, 0.25, 0.25, 0.375, 0.375, 0.5, 0.5, 0.562690296, 0.562690296, 0.562690296, 0.562690296], degree=3))
        make_face()
    extrude(amount=-CUT_EXTRUDE3_DEPTH, mode=Mode.SUBTRACT)


solid = part.part
